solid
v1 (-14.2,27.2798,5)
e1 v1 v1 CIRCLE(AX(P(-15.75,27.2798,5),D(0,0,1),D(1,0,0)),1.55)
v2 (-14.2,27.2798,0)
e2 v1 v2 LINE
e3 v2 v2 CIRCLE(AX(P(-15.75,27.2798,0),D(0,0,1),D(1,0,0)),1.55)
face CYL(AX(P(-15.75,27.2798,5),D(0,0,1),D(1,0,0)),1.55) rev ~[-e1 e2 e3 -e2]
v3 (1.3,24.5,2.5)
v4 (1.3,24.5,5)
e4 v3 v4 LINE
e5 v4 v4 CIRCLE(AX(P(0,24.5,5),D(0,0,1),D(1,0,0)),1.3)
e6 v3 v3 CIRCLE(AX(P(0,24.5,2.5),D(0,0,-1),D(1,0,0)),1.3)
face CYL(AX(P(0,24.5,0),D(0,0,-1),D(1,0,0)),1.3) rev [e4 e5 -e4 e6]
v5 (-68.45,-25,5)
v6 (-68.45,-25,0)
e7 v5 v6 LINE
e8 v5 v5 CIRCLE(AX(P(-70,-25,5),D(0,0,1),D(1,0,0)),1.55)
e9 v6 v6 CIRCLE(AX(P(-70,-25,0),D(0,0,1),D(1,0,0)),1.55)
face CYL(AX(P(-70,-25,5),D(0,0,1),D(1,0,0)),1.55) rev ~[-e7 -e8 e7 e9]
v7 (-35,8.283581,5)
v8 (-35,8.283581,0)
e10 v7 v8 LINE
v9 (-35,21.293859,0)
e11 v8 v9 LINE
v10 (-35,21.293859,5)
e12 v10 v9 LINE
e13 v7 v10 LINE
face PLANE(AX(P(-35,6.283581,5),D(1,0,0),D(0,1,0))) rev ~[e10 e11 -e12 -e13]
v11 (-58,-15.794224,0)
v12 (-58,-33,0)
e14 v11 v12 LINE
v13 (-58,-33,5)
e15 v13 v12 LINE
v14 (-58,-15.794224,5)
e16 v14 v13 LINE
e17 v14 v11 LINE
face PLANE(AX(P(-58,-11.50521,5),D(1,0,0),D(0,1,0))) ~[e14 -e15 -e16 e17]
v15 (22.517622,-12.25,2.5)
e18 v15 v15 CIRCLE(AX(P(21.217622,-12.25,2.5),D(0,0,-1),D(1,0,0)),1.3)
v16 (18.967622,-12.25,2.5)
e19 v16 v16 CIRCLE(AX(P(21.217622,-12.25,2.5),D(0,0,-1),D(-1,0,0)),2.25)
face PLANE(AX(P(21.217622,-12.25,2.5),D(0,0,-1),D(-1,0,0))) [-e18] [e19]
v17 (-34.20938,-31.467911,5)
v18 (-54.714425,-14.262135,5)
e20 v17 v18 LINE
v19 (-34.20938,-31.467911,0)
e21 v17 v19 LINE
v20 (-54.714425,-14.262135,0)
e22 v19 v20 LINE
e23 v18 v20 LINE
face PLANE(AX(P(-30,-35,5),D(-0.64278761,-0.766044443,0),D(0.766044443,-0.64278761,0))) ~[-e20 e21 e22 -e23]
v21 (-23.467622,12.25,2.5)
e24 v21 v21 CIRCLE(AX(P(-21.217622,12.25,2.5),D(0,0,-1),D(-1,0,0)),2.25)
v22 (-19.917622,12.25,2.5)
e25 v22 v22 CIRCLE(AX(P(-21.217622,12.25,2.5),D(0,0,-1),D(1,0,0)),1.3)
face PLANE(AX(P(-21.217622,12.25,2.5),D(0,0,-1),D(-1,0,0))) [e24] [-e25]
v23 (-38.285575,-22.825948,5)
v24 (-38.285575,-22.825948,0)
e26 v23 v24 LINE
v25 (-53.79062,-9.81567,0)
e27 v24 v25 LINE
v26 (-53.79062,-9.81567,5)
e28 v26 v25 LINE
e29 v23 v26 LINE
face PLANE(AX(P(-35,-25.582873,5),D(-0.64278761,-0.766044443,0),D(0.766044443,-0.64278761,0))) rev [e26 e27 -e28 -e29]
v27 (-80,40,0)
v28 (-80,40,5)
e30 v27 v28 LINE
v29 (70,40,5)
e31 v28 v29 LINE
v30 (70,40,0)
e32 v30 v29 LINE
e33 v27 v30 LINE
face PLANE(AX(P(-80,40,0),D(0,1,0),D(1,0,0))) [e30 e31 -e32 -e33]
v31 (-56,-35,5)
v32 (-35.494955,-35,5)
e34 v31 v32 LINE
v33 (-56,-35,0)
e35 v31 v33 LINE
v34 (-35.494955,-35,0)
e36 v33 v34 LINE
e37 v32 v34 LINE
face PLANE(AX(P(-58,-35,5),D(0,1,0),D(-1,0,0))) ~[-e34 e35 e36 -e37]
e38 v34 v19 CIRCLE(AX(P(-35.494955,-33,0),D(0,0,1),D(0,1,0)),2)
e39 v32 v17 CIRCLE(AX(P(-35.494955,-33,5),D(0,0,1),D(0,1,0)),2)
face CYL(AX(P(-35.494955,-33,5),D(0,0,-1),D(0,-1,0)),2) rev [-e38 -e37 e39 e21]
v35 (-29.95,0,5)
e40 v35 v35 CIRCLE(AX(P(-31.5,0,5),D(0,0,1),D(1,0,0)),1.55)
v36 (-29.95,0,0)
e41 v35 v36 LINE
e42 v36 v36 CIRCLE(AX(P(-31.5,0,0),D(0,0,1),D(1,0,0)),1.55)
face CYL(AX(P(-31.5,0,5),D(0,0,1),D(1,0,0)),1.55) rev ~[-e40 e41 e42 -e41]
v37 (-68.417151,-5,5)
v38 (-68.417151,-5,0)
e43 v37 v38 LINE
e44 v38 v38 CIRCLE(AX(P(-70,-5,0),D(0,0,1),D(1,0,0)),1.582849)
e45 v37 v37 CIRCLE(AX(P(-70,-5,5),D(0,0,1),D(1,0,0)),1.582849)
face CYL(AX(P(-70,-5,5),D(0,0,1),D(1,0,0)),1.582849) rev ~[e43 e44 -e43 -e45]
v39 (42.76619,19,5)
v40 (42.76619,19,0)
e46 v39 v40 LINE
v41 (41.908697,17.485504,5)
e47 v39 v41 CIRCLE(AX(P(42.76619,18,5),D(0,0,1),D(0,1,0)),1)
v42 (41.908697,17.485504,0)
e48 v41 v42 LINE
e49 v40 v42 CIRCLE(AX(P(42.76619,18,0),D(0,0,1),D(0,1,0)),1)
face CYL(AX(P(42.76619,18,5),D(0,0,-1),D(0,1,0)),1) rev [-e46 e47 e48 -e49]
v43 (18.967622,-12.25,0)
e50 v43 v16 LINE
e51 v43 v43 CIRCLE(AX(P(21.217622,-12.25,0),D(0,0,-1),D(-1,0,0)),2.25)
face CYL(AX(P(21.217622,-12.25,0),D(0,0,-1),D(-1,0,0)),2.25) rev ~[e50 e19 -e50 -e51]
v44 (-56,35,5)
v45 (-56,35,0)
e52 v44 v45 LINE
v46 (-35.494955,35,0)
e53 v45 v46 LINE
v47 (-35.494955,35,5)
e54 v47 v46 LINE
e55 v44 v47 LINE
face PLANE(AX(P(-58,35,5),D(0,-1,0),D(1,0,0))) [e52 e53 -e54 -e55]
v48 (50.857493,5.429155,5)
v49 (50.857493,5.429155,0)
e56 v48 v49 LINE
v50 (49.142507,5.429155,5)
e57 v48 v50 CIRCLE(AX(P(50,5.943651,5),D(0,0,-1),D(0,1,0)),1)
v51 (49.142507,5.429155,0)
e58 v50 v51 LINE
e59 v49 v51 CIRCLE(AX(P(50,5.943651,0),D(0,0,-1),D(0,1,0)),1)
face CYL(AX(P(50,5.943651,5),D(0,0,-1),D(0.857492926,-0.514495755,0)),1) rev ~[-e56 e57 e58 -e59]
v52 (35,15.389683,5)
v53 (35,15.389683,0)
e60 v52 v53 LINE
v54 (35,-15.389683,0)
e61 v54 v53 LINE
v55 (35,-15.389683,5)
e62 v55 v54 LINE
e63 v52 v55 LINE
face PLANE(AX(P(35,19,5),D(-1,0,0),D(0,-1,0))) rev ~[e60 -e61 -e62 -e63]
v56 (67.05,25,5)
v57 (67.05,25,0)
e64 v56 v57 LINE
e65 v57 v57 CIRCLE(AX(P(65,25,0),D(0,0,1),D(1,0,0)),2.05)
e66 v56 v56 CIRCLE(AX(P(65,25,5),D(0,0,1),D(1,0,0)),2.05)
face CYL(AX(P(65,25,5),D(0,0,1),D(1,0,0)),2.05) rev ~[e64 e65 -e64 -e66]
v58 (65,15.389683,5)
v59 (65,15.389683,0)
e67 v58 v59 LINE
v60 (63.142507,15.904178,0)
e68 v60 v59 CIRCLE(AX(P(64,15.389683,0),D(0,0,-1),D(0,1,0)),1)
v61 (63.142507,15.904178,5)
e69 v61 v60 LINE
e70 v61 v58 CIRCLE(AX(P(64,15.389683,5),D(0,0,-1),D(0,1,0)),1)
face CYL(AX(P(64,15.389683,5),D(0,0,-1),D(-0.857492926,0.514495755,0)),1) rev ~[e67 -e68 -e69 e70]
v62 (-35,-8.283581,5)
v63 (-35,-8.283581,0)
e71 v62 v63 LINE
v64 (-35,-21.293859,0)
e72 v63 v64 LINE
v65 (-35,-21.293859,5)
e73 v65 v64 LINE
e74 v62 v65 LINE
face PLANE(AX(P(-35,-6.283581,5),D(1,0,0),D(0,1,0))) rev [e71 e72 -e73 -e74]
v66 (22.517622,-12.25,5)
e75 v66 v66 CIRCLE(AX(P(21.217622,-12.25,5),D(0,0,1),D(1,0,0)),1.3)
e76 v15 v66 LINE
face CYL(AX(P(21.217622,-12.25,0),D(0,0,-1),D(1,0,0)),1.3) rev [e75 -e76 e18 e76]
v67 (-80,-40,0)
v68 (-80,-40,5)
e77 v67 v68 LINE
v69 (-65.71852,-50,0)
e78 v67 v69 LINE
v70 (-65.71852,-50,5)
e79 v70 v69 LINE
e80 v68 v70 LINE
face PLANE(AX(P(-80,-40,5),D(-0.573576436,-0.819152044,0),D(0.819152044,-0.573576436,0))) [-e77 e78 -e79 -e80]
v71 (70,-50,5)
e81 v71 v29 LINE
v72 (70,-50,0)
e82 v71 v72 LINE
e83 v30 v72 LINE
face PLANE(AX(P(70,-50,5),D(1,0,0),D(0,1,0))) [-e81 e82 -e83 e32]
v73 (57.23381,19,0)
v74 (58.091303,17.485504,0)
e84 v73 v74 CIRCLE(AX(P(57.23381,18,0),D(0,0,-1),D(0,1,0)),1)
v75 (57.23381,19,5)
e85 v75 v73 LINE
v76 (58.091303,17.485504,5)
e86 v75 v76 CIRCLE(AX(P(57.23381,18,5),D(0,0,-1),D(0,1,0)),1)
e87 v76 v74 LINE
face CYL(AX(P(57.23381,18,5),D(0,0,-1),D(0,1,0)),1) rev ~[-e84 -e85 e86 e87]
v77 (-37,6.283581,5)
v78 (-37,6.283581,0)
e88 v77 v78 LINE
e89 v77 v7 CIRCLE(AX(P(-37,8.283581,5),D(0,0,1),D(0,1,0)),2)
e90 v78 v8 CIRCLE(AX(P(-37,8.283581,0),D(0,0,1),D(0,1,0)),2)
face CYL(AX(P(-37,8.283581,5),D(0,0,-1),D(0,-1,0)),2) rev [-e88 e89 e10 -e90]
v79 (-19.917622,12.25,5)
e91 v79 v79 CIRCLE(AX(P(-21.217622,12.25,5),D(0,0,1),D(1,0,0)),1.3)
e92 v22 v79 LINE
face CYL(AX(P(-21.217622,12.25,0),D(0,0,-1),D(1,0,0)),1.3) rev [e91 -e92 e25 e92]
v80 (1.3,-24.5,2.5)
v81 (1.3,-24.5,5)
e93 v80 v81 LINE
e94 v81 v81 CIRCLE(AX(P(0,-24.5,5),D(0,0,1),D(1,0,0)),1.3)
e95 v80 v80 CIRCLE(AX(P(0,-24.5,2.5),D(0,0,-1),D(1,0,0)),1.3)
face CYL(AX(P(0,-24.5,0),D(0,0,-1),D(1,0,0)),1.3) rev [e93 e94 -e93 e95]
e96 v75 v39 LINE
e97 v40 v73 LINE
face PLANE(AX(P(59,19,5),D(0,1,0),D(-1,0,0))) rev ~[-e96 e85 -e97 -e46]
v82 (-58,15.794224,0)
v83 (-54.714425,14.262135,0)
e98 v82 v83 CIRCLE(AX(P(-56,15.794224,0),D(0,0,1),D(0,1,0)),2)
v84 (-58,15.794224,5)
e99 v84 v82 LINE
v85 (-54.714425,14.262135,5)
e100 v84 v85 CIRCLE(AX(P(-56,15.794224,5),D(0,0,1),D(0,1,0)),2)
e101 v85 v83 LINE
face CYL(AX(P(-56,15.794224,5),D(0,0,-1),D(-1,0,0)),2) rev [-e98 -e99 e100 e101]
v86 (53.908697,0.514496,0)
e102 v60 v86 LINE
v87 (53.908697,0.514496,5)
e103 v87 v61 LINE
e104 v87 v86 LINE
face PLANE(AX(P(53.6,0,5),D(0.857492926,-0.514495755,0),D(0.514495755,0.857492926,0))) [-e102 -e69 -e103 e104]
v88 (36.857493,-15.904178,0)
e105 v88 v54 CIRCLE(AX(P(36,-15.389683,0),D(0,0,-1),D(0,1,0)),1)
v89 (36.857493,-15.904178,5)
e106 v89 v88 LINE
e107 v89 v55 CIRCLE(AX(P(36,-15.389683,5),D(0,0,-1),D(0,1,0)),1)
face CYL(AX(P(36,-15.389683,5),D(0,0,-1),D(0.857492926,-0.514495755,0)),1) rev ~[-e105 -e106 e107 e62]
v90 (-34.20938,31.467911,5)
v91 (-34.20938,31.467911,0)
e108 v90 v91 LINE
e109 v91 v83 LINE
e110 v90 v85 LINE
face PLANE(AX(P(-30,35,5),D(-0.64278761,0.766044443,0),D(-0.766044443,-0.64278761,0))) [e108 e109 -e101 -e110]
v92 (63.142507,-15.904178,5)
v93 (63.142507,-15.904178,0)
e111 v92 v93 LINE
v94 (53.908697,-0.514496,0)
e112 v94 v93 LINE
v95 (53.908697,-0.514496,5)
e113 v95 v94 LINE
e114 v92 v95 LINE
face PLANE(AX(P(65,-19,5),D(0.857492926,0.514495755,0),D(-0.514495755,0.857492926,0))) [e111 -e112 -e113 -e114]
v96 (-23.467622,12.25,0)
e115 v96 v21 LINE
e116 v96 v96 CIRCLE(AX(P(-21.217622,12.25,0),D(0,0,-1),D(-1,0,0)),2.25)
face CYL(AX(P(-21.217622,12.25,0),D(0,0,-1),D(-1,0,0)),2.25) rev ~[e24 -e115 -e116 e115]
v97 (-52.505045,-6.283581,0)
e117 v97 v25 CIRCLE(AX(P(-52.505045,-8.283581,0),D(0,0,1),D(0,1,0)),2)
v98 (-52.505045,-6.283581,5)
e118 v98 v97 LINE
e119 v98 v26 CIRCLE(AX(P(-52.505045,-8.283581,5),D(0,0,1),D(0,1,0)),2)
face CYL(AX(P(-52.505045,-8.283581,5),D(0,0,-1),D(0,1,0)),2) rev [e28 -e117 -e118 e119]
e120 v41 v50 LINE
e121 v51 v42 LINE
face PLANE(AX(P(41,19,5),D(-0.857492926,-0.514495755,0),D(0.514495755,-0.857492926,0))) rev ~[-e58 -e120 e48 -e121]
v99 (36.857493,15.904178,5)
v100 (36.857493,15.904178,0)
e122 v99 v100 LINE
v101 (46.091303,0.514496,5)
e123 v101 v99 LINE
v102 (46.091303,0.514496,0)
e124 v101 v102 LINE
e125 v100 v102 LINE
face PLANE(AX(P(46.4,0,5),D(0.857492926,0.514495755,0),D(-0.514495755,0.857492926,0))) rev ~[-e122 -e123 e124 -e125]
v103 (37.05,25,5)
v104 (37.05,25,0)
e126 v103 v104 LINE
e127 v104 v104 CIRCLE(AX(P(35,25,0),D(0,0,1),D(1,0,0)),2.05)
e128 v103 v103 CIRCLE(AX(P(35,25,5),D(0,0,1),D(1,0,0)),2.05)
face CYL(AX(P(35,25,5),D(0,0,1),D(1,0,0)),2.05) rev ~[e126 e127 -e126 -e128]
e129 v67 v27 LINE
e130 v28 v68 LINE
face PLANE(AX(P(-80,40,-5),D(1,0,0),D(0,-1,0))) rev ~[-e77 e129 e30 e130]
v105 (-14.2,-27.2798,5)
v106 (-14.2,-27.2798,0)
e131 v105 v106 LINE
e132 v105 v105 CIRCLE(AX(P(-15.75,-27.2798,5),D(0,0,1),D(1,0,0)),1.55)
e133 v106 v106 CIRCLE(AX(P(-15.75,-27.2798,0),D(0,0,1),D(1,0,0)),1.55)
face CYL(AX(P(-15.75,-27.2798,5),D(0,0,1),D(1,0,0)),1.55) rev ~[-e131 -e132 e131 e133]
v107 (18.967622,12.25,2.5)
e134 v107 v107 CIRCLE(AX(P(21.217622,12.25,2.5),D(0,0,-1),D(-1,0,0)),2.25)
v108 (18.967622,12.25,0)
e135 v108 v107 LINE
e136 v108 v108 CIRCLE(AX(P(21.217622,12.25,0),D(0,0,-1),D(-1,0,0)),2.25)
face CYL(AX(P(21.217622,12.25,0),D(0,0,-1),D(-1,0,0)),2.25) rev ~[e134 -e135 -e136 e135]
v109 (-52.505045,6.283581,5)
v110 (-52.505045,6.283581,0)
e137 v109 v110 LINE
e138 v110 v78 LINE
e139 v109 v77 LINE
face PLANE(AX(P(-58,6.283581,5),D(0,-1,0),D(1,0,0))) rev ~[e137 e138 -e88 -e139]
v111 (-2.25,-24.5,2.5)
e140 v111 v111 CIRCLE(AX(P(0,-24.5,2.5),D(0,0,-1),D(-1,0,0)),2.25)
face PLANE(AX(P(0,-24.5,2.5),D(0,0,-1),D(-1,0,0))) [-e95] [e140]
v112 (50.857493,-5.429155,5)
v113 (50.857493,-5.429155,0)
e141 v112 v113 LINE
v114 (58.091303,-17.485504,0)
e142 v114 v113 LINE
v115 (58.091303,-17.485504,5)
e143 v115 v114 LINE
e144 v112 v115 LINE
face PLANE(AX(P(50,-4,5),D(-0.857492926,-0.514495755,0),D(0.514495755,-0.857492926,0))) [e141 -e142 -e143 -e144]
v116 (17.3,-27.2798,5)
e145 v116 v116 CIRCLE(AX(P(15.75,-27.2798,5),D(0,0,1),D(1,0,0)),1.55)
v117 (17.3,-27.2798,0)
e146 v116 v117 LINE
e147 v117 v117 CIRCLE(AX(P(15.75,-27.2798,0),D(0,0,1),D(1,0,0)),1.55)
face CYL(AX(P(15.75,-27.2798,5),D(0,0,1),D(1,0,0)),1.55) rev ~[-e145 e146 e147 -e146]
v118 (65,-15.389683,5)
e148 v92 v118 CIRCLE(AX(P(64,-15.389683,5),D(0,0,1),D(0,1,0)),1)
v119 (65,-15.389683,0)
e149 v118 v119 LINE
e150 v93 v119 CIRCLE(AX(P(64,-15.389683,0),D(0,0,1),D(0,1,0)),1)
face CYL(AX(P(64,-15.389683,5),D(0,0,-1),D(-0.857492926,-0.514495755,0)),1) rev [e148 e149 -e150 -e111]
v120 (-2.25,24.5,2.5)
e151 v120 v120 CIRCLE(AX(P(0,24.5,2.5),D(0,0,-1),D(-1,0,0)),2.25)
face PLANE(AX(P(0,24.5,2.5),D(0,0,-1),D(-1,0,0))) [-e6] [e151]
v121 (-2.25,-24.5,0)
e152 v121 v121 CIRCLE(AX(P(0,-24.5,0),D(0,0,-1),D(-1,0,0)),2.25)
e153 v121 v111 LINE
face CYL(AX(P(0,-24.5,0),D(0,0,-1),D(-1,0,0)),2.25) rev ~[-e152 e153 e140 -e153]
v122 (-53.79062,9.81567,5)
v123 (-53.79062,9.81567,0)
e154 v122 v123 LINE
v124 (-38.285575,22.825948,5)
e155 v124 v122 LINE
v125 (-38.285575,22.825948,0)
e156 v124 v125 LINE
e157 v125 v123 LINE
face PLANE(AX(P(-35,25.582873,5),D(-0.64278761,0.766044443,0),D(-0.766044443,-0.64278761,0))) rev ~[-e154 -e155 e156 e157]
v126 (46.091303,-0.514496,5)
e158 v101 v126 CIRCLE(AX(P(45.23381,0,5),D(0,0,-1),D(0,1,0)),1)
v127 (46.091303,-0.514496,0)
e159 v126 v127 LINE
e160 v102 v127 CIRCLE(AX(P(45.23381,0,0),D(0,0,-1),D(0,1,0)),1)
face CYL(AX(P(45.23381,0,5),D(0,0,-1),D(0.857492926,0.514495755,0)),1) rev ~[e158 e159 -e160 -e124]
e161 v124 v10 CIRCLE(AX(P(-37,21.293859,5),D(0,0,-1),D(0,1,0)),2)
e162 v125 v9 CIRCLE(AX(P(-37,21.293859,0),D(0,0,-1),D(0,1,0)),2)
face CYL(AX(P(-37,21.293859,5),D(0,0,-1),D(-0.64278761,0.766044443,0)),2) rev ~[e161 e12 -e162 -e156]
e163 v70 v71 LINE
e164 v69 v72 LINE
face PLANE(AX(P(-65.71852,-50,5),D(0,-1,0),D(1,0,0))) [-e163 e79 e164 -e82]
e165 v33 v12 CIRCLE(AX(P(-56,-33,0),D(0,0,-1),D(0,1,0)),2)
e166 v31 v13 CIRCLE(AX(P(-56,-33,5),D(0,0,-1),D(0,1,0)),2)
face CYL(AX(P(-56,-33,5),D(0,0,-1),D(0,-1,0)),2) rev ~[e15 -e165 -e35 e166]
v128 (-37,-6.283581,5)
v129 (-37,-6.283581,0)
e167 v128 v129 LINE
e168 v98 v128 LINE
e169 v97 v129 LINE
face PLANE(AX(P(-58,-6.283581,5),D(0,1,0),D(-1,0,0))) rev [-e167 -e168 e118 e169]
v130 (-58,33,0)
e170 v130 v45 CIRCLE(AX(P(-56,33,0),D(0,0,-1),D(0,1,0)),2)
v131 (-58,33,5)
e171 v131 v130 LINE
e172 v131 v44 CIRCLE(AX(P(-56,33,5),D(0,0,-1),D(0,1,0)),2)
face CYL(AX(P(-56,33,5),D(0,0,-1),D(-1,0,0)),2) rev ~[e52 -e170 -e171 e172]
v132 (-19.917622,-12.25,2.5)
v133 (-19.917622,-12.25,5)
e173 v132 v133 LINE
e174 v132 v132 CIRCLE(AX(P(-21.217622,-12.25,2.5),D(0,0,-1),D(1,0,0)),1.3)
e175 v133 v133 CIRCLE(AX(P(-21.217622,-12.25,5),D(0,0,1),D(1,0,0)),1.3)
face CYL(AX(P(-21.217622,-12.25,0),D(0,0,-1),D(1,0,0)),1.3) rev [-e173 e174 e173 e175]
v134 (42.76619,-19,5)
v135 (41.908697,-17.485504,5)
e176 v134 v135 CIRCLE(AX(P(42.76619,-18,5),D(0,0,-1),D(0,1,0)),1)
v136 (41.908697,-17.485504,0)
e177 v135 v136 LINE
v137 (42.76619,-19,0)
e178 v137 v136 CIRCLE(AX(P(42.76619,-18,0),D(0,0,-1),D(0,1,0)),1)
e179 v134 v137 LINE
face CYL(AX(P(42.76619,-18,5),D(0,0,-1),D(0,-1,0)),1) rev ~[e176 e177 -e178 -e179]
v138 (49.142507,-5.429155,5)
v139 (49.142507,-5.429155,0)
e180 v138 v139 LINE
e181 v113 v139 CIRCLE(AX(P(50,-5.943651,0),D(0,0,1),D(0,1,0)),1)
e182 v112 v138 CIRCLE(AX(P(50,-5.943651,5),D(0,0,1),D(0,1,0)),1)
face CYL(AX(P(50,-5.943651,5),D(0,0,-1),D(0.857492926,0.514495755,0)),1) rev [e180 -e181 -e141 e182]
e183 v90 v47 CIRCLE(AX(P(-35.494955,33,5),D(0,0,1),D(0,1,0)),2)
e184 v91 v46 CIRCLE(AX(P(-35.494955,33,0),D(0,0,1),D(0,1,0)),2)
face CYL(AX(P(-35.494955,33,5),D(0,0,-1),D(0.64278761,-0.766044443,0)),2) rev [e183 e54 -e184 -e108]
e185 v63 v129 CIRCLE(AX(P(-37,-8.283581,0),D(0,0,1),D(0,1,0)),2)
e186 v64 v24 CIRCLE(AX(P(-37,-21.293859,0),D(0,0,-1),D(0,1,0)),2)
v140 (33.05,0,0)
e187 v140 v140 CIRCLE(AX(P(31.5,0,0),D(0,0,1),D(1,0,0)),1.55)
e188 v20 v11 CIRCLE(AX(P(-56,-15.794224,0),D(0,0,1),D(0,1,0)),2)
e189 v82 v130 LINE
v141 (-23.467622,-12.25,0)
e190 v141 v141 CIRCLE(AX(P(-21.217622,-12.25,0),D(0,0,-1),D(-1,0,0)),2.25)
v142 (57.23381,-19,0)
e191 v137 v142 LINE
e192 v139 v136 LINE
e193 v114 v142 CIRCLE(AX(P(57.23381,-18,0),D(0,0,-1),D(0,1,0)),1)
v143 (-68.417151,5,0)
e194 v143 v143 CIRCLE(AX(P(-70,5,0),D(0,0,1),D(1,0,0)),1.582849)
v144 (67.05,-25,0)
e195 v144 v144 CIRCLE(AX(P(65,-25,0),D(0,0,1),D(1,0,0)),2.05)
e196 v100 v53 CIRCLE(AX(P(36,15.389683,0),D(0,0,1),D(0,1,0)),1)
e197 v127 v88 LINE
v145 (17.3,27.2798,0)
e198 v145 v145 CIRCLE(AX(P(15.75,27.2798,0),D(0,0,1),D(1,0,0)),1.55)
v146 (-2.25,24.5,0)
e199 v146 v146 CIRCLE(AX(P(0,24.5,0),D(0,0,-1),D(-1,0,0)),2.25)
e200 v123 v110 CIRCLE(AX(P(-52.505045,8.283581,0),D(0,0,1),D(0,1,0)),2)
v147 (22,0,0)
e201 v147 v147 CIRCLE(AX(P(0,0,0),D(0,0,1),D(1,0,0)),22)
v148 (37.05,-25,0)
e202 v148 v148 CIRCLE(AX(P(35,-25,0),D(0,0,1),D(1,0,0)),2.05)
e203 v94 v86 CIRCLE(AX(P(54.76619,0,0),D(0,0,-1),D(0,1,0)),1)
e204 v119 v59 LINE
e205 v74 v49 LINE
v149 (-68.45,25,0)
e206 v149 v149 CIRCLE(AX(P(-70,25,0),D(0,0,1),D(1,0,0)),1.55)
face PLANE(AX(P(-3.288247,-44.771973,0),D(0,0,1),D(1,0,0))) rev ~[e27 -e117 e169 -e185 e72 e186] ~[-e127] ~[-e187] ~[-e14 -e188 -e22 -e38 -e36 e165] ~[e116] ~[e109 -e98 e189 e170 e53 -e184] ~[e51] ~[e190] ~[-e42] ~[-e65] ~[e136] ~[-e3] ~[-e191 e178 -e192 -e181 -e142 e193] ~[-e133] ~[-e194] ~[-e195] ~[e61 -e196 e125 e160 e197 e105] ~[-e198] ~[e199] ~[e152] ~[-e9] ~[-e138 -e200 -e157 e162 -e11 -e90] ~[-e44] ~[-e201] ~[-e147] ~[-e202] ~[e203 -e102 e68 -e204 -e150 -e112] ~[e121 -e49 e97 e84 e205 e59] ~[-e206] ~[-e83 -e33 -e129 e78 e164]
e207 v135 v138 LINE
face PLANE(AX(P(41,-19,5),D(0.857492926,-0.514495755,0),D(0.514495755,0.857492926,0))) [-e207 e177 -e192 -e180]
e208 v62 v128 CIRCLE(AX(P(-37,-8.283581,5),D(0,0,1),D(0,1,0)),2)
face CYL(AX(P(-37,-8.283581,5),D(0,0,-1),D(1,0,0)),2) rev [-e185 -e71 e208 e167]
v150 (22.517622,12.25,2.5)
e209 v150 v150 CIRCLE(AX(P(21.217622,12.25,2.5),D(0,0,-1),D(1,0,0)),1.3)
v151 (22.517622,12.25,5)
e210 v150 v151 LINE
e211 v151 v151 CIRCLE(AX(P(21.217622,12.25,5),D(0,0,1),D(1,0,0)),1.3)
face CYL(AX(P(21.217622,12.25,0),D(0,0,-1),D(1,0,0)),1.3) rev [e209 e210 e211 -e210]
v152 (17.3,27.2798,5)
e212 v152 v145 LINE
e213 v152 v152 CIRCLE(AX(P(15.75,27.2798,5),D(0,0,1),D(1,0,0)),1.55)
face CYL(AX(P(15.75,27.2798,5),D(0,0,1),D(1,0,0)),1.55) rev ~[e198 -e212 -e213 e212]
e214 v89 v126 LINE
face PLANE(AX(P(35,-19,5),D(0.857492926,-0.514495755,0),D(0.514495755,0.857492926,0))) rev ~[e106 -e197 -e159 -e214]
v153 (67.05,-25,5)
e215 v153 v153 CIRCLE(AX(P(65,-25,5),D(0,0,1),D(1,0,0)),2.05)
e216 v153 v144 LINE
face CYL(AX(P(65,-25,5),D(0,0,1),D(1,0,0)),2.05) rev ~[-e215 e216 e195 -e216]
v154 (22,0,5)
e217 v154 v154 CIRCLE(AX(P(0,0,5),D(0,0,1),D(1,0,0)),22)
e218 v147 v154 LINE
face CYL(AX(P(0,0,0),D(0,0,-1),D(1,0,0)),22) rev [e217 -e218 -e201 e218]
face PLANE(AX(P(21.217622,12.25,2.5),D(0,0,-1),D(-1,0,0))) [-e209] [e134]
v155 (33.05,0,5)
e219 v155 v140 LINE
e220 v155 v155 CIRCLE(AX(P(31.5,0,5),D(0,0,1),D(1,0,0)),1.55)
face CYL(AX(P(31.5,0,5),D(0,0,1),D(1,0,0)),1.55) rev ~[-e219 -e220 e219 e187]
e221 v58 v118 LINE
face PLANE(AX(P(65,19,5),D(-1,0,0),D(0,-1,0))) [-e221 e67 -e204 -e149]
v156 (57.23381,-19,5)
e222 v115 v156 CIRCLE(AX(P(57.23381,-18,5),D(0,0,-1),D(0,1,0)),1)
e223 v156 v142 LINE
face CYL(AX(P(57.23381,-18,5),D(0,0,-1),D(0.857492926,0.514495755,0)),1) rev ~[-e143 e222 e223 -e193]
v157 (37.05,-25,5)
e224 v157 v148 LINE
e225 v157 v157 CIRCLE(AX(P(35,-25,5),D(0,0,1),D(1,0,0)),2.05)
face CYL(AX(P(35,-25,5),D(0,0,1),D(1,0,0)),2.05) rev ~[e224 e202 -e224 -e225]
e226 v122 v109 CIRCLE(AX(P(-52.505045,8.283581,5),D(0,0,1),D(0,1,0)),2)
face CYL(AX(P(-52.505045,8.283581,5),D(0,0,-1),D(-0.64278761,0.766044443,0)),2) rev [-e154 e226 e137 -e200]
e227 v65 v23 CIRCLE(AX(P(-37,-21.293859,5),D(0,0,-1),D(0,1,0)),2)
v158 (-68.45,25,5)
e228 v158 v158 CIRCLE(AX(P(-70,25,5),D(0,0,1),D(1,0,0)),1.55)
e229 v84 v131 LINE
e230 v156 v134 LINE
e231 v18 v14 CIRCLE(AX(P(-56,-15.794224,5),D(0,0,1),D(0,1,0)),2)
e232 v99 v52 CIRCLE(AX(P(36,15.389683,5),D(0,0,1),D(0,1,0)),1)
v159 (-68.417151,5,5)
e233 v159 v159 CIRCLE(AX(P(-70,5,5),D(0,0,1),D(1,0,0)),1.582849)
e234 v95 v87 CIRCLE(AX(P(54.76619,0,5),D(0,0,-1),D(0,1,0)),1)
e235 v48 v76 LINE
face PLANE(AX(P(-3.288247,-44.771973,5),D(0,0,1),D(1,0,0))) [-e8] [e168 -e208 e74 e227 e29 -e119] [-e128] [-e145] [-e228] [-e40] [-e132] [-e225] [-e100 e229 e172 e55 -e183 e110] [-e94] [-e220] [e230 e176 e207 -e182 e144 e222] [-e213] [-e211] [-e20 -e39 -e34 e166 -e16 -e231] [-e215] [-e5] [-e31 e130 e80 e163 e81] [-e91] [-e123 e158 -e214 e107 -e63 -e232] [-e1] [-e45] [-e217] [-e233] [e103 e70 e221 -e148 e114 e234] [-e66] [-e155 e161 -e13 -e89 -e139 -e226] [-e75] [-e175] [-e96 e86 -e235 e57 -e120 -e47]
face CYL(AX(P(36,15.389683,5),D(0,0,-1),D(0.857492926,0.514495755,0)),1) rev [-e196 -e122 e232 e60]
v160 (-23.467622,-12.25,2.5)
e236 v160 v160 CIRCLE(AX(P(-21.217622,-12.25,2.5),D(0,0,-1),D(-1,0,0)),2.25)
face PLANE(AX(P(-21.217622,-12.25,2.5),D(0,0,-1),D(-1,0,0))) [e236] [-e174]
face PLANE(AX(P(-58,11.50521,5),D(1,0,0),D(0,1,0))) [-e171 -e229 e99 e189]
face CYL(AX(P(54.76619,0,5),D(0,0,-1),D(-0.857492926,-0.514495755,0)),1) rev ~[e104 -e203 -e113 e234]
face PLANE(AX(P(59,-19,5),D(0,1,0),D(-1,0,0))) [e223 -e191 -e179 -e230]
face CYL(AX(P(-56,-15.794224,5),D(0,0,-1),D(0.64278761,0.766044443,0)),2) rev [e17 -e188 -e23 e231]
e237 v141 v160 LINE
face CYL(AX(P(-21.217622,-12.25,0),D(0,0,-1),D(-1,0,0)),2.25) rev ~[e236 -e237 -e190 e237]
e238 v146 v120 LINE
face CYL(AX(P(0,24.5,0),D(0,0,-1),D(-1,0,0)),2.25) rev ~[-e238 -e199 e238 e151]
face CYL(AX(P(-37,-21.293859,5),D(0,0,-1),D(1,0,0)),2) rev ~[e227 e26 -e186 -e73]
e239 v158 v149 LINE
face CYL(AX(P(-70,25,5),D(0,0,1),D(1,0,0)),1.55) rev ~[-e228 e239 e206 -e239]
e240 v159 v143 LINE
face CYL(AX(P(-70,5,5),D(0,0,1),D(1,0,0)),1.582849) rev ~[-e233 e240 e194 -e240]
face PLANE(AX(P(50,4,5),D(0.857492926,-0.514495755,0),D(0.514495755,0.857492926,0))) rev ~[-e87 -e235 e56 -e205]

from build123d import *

# Parameters (mm, degrees)
SKETCH_1_W             = 150
SKETCH_1_H             = 80
SKETCH_1_R             = 1.3
SKETCH_1_R_2           = 22
EXTRUDE_1_DEPTH        = 5
SKETCH_3_R             = 1.55
SKETCH_3_R_2           = 1.582849294
CUT_EXTRUDE_3_DEPTH    = 12.5
CUT_EXTRUDE_5_DEPTH    = 8
FILLET_3_R             = 2
FILLET_3_OF_MIRROR_2_R = 2
EXTRUDE_4_DEPTH        = 5
FILLET_5_R             = 5
SKETCH_11_R            = 1.55
CUT_EXTRUDE_7_DEPTH    = 25
SKETCH_12_R            = 2.05
CUT_EXTRUDE_8_DEPTH    = 10
CUT_EXTRUDE_9_DEPTH    = 10
FILLET_6_R             = 1
EXTRUDE_5_DEPTH        = 5
SKETCH_16_R            = 2.25
CUT_EXTRUDE_10_DEPTH   = 2.5
CUT_EXTRUDE_START      = -10
CUT_EXTRUDE_11_DEPTH   = 10


with BuildPart() as part:
    # 草图1 → 凸台-拉伸1 (new body)
    with BuildSketch(Plane.XY):
        with Locations((-5, 0)):
            Rectangle(SKETCH_1_W, SKETCH_1_H)
        with Locations((0, -24.5)):
            Circle(SKETCH_1_R, mode=Mode.SUBTRACT)
        with Locations((-21.217622393, -12.25)):
            Circle(SKETCH_1_R, mode=Mode.SUBTRACT)
        with Locations((-21.217622393, 12.25)):
            Circle(SKETCH_1_R, mode=Mode.SUBTRACT)
        Circle(SKETCH_1_R_2, mode=Mode.SUBTRACT)
        with Locations((0, 24.5)):
            Circle(SKETCH_1_R, mode=Mode.SUBTRACT)
        with Locations((21.217622393, 12.25)):
            Circle(SKETCH_1_R, mode=Mode.SUBTRACT)
        with Locations((21.217622393, -12.25)):
            Circle(SKETCH_1_R, mode=Mode.SUBTRACT)
    extrude(amount=EXTRUDE_1_DEPTH)

    # 草图3 → 切除-拉伸3 (cut)
    with BuildSketch(Plane.XY.offset(5)):
        with Locations((-70, -25)):
            Circle(SKETCH_3_R)
        with Locations((-70, -5)):
            Circle(SKETCH_3_R_2)
        with Locations((-70, 25)):
            Circle(SKETCH_3_R)
        with Locations((-70, 5)):
            Circle(SKETCH_3_R_2)
    extrude(amount=-CUT_EXTRUDE_3_DEPTH, mode=Mode.SUBTRACT)

    # 草图4 → 切除-拉伸5 (cut)
    with BuildSketch(Plane.XY.offset(5)):
        Polygon((-58, 35), (-30, 35), (-58, 11.505210327), align=None)
        Polygon((-35, 25.582872687), (-58, 6.28358117), (-35, 6.28358117), align=None)
    cut_extrude_5 = extrude(amount=-CUT_EXTRUDE_5_DEPTH, mode=Mode.SUBTRACT)

    # 圆角3
    fillet_3_edges = [part.edges().sort_by_distance(p)[0] for p in [
        (-35, 6.28358117, 2.5),
        (-58, 6.28358117, 2.5),
        (-35, 25.582872687, 2.5),
        (-30, 35, 2.5),
        (-58, 11.505210327, 2.5),
        (-58, 35, 2.5),
    ]]
    fillet(fillet_3_edges, radius=FILLET_3_R)

    # 镜向2: 切除-拉伸5 across plane
    add(cut_extrude_5.mirror(Plane.ZX), mode=Mode.SUBTRACT)

    # 圆角3 of 镜向2
    fillet_3_of_mirror_2_edges = [part.edges().sort_by_distance(p)[0] for p in [
        (-35, -6.28358117, 2.5),
        (-58, -6.28358117, 2.5),
        (-35, -25.582872687, 2.5),
        (-30, -35, 2.5),
        (-58, -11.505210327, 2.5),
        (-58, -35, 2.5),
    ]]
    fillet(fillet_3_of_mirror_2_edges, radius=FILLET_3_OF_MIRROR_2_R)

    # 草图10 → 凸台-拉伸4 (add)
    with BuildSketch(Plane.XY.offset(5)):
        Polygon((-80, -40), (-127.053079228, -7.053079228), (-80, 40), align=None)
    extrude(amount=-EXTRUDE_4_DEPTH)

    # 圆角5
    fillet_5_edges = [part.edges().sort_by_distance(p)[0] for p in [
        (-127.053079228, -7.053079228, 2.5),
    ]]
    fillet(fillet_5_edges, radius=FILLET_5_R)

    # 草图11 → 切除-拉伸7 (cut)
    with BuildSketch(Plane.XY.offset(5)):
        with Locations((-15.75, 27.279800219)):
            Circle(SKETCH_11_R)
        with Locations((15.75, 27.279800219)):
            Circle(SKETCH_11_R)
        with Locations((31.5, 0)):
            Circle(SKETCH_11_R)
        with Locations((15.75, -27.279800219)):
            Circle(SKETCH_11_R)
        with Locations((-15.75, -27.279800219)):
            Circle(SKETCH_11_R)
        with Locations((-31.5, 0)):
            Circle(SKETCH_11_R)
    extrude(amount=-CUT_EXTRUDE_7_DEPTH, mode=Mode.SUBTRACT)

    # 草图12 → 切除-拉伸8 (cut)
    with BuildSketch(Plane.XY.offset(5)):
        with Locations((35, 25)):
            Circle(SKETCH_12_R)
        with Locations((65, 25)):
            Circle(SKETCH_12_R)
        with Locations((65, -25)):
            Circle(SKETCH_12_R)
        with Locations((35, -25)):
            Circle(SKETCH_12_R)
    extrude(amount=-CUT_EXTRUDE_8_DEPTH, mode=Mode.SUBTRACT)

    # 草图13 → 切除-拉伸9 (cut)
    with BuildSketch(Plane.XY.offset(5)):
        Polygon((35, 19), (35, -19), (46.4, 0), align=None)
        Polygon((65, -19), (53.6, 0), (65, 19), align=None)
        Polygon((41, 19), (50, 4), (59, 19), align=None)
        Polygon((50, -4), (59, -19), (41, -19), align=None)
    extrude(amount=-CUT_EXTRUDE_9_DEPTH, mode=Mode.SUBTRACT)

    # 圆角6
    fillet_6_edges = [part.edges().sort_by_distance(p)[0] for p in [
        (41, 19, 2.5),
        (59, 19, 2.5),
        (50, 4, 2.5),
        (65, 19, 2.5),
        (65, -19, 2.5),
        (53.6, 0, 2.5),
        (41, -19, 2.5),
        (50, -4, 2.5),
        (59, -19, 2.5),
        (35, 19, 2.5),
        (46.4, 0, 2.5),
        (35, -19, 2.5),
    ]]
    fillet(fillet_6_edges, radius=FILLET_6_R)

    # 草图14 → 凸台-拉伸5 (add)
    with BuildSketch(Plane.XY.offset(5)):
        Polygon((-80, -40), (-65.718519933, -50), (70, -50), (70, -40), align=None)
    extrude(amount=-EXTRUDE_5_DEPTH)

    # 草图16 → 切除-拉伸10 (cut)
    with BuildSketch(Plane(origin=(0, 0, 0), x_dir=(-1, 0, 0), z_dir=(0, 0, -1))):
        with Locations((0, 24.5)):
            Circle(SKETCH_16_R)
        with Locations((21.217622393, 12.25)):
            Circle(SKETCH_16_R)
        with Locations((21.217622393, -12.25)):
            Circle(SKETCH_16_R)
        with Locations((0, -24.5)):
            Circle(SKETCH_16_R)
        with Locations((-21.217622393, -12.25)):
            Circle(SKETCH_16_R)
        with Locations((-21.217622393, 12.25)):
            Circle(SKETCH_16_R)
    extrude(amount=-CUT_EXTRUDE_10_DEPTH, mode=Mode.SUBTRACT)

    # 草图17 → 切除-拉伸11 (cut)
    with BuildSketch(Plane.XY.offset(5).offset(CUT_EXTRUDE_START)):
        with BuildLine():
            Line((-122.839593994, -2.839593994), (-80, 40))
            Line((-80, 40), (-80, 0))
            Line((-80, 0), (-80, -40))
            Line((-80, -40), (-122.17194227, -10.470888122))
            ThreePointArc((-122.17194227, -10.470888122), (-124.285033579, -6.810906614), (-122.839593994, -2.839593994))
        make_face()
    extrude(amount=CUT_EXTRUDE_11_DEPTH, mode=Mode.SUBTRACT)


solid = part.part
